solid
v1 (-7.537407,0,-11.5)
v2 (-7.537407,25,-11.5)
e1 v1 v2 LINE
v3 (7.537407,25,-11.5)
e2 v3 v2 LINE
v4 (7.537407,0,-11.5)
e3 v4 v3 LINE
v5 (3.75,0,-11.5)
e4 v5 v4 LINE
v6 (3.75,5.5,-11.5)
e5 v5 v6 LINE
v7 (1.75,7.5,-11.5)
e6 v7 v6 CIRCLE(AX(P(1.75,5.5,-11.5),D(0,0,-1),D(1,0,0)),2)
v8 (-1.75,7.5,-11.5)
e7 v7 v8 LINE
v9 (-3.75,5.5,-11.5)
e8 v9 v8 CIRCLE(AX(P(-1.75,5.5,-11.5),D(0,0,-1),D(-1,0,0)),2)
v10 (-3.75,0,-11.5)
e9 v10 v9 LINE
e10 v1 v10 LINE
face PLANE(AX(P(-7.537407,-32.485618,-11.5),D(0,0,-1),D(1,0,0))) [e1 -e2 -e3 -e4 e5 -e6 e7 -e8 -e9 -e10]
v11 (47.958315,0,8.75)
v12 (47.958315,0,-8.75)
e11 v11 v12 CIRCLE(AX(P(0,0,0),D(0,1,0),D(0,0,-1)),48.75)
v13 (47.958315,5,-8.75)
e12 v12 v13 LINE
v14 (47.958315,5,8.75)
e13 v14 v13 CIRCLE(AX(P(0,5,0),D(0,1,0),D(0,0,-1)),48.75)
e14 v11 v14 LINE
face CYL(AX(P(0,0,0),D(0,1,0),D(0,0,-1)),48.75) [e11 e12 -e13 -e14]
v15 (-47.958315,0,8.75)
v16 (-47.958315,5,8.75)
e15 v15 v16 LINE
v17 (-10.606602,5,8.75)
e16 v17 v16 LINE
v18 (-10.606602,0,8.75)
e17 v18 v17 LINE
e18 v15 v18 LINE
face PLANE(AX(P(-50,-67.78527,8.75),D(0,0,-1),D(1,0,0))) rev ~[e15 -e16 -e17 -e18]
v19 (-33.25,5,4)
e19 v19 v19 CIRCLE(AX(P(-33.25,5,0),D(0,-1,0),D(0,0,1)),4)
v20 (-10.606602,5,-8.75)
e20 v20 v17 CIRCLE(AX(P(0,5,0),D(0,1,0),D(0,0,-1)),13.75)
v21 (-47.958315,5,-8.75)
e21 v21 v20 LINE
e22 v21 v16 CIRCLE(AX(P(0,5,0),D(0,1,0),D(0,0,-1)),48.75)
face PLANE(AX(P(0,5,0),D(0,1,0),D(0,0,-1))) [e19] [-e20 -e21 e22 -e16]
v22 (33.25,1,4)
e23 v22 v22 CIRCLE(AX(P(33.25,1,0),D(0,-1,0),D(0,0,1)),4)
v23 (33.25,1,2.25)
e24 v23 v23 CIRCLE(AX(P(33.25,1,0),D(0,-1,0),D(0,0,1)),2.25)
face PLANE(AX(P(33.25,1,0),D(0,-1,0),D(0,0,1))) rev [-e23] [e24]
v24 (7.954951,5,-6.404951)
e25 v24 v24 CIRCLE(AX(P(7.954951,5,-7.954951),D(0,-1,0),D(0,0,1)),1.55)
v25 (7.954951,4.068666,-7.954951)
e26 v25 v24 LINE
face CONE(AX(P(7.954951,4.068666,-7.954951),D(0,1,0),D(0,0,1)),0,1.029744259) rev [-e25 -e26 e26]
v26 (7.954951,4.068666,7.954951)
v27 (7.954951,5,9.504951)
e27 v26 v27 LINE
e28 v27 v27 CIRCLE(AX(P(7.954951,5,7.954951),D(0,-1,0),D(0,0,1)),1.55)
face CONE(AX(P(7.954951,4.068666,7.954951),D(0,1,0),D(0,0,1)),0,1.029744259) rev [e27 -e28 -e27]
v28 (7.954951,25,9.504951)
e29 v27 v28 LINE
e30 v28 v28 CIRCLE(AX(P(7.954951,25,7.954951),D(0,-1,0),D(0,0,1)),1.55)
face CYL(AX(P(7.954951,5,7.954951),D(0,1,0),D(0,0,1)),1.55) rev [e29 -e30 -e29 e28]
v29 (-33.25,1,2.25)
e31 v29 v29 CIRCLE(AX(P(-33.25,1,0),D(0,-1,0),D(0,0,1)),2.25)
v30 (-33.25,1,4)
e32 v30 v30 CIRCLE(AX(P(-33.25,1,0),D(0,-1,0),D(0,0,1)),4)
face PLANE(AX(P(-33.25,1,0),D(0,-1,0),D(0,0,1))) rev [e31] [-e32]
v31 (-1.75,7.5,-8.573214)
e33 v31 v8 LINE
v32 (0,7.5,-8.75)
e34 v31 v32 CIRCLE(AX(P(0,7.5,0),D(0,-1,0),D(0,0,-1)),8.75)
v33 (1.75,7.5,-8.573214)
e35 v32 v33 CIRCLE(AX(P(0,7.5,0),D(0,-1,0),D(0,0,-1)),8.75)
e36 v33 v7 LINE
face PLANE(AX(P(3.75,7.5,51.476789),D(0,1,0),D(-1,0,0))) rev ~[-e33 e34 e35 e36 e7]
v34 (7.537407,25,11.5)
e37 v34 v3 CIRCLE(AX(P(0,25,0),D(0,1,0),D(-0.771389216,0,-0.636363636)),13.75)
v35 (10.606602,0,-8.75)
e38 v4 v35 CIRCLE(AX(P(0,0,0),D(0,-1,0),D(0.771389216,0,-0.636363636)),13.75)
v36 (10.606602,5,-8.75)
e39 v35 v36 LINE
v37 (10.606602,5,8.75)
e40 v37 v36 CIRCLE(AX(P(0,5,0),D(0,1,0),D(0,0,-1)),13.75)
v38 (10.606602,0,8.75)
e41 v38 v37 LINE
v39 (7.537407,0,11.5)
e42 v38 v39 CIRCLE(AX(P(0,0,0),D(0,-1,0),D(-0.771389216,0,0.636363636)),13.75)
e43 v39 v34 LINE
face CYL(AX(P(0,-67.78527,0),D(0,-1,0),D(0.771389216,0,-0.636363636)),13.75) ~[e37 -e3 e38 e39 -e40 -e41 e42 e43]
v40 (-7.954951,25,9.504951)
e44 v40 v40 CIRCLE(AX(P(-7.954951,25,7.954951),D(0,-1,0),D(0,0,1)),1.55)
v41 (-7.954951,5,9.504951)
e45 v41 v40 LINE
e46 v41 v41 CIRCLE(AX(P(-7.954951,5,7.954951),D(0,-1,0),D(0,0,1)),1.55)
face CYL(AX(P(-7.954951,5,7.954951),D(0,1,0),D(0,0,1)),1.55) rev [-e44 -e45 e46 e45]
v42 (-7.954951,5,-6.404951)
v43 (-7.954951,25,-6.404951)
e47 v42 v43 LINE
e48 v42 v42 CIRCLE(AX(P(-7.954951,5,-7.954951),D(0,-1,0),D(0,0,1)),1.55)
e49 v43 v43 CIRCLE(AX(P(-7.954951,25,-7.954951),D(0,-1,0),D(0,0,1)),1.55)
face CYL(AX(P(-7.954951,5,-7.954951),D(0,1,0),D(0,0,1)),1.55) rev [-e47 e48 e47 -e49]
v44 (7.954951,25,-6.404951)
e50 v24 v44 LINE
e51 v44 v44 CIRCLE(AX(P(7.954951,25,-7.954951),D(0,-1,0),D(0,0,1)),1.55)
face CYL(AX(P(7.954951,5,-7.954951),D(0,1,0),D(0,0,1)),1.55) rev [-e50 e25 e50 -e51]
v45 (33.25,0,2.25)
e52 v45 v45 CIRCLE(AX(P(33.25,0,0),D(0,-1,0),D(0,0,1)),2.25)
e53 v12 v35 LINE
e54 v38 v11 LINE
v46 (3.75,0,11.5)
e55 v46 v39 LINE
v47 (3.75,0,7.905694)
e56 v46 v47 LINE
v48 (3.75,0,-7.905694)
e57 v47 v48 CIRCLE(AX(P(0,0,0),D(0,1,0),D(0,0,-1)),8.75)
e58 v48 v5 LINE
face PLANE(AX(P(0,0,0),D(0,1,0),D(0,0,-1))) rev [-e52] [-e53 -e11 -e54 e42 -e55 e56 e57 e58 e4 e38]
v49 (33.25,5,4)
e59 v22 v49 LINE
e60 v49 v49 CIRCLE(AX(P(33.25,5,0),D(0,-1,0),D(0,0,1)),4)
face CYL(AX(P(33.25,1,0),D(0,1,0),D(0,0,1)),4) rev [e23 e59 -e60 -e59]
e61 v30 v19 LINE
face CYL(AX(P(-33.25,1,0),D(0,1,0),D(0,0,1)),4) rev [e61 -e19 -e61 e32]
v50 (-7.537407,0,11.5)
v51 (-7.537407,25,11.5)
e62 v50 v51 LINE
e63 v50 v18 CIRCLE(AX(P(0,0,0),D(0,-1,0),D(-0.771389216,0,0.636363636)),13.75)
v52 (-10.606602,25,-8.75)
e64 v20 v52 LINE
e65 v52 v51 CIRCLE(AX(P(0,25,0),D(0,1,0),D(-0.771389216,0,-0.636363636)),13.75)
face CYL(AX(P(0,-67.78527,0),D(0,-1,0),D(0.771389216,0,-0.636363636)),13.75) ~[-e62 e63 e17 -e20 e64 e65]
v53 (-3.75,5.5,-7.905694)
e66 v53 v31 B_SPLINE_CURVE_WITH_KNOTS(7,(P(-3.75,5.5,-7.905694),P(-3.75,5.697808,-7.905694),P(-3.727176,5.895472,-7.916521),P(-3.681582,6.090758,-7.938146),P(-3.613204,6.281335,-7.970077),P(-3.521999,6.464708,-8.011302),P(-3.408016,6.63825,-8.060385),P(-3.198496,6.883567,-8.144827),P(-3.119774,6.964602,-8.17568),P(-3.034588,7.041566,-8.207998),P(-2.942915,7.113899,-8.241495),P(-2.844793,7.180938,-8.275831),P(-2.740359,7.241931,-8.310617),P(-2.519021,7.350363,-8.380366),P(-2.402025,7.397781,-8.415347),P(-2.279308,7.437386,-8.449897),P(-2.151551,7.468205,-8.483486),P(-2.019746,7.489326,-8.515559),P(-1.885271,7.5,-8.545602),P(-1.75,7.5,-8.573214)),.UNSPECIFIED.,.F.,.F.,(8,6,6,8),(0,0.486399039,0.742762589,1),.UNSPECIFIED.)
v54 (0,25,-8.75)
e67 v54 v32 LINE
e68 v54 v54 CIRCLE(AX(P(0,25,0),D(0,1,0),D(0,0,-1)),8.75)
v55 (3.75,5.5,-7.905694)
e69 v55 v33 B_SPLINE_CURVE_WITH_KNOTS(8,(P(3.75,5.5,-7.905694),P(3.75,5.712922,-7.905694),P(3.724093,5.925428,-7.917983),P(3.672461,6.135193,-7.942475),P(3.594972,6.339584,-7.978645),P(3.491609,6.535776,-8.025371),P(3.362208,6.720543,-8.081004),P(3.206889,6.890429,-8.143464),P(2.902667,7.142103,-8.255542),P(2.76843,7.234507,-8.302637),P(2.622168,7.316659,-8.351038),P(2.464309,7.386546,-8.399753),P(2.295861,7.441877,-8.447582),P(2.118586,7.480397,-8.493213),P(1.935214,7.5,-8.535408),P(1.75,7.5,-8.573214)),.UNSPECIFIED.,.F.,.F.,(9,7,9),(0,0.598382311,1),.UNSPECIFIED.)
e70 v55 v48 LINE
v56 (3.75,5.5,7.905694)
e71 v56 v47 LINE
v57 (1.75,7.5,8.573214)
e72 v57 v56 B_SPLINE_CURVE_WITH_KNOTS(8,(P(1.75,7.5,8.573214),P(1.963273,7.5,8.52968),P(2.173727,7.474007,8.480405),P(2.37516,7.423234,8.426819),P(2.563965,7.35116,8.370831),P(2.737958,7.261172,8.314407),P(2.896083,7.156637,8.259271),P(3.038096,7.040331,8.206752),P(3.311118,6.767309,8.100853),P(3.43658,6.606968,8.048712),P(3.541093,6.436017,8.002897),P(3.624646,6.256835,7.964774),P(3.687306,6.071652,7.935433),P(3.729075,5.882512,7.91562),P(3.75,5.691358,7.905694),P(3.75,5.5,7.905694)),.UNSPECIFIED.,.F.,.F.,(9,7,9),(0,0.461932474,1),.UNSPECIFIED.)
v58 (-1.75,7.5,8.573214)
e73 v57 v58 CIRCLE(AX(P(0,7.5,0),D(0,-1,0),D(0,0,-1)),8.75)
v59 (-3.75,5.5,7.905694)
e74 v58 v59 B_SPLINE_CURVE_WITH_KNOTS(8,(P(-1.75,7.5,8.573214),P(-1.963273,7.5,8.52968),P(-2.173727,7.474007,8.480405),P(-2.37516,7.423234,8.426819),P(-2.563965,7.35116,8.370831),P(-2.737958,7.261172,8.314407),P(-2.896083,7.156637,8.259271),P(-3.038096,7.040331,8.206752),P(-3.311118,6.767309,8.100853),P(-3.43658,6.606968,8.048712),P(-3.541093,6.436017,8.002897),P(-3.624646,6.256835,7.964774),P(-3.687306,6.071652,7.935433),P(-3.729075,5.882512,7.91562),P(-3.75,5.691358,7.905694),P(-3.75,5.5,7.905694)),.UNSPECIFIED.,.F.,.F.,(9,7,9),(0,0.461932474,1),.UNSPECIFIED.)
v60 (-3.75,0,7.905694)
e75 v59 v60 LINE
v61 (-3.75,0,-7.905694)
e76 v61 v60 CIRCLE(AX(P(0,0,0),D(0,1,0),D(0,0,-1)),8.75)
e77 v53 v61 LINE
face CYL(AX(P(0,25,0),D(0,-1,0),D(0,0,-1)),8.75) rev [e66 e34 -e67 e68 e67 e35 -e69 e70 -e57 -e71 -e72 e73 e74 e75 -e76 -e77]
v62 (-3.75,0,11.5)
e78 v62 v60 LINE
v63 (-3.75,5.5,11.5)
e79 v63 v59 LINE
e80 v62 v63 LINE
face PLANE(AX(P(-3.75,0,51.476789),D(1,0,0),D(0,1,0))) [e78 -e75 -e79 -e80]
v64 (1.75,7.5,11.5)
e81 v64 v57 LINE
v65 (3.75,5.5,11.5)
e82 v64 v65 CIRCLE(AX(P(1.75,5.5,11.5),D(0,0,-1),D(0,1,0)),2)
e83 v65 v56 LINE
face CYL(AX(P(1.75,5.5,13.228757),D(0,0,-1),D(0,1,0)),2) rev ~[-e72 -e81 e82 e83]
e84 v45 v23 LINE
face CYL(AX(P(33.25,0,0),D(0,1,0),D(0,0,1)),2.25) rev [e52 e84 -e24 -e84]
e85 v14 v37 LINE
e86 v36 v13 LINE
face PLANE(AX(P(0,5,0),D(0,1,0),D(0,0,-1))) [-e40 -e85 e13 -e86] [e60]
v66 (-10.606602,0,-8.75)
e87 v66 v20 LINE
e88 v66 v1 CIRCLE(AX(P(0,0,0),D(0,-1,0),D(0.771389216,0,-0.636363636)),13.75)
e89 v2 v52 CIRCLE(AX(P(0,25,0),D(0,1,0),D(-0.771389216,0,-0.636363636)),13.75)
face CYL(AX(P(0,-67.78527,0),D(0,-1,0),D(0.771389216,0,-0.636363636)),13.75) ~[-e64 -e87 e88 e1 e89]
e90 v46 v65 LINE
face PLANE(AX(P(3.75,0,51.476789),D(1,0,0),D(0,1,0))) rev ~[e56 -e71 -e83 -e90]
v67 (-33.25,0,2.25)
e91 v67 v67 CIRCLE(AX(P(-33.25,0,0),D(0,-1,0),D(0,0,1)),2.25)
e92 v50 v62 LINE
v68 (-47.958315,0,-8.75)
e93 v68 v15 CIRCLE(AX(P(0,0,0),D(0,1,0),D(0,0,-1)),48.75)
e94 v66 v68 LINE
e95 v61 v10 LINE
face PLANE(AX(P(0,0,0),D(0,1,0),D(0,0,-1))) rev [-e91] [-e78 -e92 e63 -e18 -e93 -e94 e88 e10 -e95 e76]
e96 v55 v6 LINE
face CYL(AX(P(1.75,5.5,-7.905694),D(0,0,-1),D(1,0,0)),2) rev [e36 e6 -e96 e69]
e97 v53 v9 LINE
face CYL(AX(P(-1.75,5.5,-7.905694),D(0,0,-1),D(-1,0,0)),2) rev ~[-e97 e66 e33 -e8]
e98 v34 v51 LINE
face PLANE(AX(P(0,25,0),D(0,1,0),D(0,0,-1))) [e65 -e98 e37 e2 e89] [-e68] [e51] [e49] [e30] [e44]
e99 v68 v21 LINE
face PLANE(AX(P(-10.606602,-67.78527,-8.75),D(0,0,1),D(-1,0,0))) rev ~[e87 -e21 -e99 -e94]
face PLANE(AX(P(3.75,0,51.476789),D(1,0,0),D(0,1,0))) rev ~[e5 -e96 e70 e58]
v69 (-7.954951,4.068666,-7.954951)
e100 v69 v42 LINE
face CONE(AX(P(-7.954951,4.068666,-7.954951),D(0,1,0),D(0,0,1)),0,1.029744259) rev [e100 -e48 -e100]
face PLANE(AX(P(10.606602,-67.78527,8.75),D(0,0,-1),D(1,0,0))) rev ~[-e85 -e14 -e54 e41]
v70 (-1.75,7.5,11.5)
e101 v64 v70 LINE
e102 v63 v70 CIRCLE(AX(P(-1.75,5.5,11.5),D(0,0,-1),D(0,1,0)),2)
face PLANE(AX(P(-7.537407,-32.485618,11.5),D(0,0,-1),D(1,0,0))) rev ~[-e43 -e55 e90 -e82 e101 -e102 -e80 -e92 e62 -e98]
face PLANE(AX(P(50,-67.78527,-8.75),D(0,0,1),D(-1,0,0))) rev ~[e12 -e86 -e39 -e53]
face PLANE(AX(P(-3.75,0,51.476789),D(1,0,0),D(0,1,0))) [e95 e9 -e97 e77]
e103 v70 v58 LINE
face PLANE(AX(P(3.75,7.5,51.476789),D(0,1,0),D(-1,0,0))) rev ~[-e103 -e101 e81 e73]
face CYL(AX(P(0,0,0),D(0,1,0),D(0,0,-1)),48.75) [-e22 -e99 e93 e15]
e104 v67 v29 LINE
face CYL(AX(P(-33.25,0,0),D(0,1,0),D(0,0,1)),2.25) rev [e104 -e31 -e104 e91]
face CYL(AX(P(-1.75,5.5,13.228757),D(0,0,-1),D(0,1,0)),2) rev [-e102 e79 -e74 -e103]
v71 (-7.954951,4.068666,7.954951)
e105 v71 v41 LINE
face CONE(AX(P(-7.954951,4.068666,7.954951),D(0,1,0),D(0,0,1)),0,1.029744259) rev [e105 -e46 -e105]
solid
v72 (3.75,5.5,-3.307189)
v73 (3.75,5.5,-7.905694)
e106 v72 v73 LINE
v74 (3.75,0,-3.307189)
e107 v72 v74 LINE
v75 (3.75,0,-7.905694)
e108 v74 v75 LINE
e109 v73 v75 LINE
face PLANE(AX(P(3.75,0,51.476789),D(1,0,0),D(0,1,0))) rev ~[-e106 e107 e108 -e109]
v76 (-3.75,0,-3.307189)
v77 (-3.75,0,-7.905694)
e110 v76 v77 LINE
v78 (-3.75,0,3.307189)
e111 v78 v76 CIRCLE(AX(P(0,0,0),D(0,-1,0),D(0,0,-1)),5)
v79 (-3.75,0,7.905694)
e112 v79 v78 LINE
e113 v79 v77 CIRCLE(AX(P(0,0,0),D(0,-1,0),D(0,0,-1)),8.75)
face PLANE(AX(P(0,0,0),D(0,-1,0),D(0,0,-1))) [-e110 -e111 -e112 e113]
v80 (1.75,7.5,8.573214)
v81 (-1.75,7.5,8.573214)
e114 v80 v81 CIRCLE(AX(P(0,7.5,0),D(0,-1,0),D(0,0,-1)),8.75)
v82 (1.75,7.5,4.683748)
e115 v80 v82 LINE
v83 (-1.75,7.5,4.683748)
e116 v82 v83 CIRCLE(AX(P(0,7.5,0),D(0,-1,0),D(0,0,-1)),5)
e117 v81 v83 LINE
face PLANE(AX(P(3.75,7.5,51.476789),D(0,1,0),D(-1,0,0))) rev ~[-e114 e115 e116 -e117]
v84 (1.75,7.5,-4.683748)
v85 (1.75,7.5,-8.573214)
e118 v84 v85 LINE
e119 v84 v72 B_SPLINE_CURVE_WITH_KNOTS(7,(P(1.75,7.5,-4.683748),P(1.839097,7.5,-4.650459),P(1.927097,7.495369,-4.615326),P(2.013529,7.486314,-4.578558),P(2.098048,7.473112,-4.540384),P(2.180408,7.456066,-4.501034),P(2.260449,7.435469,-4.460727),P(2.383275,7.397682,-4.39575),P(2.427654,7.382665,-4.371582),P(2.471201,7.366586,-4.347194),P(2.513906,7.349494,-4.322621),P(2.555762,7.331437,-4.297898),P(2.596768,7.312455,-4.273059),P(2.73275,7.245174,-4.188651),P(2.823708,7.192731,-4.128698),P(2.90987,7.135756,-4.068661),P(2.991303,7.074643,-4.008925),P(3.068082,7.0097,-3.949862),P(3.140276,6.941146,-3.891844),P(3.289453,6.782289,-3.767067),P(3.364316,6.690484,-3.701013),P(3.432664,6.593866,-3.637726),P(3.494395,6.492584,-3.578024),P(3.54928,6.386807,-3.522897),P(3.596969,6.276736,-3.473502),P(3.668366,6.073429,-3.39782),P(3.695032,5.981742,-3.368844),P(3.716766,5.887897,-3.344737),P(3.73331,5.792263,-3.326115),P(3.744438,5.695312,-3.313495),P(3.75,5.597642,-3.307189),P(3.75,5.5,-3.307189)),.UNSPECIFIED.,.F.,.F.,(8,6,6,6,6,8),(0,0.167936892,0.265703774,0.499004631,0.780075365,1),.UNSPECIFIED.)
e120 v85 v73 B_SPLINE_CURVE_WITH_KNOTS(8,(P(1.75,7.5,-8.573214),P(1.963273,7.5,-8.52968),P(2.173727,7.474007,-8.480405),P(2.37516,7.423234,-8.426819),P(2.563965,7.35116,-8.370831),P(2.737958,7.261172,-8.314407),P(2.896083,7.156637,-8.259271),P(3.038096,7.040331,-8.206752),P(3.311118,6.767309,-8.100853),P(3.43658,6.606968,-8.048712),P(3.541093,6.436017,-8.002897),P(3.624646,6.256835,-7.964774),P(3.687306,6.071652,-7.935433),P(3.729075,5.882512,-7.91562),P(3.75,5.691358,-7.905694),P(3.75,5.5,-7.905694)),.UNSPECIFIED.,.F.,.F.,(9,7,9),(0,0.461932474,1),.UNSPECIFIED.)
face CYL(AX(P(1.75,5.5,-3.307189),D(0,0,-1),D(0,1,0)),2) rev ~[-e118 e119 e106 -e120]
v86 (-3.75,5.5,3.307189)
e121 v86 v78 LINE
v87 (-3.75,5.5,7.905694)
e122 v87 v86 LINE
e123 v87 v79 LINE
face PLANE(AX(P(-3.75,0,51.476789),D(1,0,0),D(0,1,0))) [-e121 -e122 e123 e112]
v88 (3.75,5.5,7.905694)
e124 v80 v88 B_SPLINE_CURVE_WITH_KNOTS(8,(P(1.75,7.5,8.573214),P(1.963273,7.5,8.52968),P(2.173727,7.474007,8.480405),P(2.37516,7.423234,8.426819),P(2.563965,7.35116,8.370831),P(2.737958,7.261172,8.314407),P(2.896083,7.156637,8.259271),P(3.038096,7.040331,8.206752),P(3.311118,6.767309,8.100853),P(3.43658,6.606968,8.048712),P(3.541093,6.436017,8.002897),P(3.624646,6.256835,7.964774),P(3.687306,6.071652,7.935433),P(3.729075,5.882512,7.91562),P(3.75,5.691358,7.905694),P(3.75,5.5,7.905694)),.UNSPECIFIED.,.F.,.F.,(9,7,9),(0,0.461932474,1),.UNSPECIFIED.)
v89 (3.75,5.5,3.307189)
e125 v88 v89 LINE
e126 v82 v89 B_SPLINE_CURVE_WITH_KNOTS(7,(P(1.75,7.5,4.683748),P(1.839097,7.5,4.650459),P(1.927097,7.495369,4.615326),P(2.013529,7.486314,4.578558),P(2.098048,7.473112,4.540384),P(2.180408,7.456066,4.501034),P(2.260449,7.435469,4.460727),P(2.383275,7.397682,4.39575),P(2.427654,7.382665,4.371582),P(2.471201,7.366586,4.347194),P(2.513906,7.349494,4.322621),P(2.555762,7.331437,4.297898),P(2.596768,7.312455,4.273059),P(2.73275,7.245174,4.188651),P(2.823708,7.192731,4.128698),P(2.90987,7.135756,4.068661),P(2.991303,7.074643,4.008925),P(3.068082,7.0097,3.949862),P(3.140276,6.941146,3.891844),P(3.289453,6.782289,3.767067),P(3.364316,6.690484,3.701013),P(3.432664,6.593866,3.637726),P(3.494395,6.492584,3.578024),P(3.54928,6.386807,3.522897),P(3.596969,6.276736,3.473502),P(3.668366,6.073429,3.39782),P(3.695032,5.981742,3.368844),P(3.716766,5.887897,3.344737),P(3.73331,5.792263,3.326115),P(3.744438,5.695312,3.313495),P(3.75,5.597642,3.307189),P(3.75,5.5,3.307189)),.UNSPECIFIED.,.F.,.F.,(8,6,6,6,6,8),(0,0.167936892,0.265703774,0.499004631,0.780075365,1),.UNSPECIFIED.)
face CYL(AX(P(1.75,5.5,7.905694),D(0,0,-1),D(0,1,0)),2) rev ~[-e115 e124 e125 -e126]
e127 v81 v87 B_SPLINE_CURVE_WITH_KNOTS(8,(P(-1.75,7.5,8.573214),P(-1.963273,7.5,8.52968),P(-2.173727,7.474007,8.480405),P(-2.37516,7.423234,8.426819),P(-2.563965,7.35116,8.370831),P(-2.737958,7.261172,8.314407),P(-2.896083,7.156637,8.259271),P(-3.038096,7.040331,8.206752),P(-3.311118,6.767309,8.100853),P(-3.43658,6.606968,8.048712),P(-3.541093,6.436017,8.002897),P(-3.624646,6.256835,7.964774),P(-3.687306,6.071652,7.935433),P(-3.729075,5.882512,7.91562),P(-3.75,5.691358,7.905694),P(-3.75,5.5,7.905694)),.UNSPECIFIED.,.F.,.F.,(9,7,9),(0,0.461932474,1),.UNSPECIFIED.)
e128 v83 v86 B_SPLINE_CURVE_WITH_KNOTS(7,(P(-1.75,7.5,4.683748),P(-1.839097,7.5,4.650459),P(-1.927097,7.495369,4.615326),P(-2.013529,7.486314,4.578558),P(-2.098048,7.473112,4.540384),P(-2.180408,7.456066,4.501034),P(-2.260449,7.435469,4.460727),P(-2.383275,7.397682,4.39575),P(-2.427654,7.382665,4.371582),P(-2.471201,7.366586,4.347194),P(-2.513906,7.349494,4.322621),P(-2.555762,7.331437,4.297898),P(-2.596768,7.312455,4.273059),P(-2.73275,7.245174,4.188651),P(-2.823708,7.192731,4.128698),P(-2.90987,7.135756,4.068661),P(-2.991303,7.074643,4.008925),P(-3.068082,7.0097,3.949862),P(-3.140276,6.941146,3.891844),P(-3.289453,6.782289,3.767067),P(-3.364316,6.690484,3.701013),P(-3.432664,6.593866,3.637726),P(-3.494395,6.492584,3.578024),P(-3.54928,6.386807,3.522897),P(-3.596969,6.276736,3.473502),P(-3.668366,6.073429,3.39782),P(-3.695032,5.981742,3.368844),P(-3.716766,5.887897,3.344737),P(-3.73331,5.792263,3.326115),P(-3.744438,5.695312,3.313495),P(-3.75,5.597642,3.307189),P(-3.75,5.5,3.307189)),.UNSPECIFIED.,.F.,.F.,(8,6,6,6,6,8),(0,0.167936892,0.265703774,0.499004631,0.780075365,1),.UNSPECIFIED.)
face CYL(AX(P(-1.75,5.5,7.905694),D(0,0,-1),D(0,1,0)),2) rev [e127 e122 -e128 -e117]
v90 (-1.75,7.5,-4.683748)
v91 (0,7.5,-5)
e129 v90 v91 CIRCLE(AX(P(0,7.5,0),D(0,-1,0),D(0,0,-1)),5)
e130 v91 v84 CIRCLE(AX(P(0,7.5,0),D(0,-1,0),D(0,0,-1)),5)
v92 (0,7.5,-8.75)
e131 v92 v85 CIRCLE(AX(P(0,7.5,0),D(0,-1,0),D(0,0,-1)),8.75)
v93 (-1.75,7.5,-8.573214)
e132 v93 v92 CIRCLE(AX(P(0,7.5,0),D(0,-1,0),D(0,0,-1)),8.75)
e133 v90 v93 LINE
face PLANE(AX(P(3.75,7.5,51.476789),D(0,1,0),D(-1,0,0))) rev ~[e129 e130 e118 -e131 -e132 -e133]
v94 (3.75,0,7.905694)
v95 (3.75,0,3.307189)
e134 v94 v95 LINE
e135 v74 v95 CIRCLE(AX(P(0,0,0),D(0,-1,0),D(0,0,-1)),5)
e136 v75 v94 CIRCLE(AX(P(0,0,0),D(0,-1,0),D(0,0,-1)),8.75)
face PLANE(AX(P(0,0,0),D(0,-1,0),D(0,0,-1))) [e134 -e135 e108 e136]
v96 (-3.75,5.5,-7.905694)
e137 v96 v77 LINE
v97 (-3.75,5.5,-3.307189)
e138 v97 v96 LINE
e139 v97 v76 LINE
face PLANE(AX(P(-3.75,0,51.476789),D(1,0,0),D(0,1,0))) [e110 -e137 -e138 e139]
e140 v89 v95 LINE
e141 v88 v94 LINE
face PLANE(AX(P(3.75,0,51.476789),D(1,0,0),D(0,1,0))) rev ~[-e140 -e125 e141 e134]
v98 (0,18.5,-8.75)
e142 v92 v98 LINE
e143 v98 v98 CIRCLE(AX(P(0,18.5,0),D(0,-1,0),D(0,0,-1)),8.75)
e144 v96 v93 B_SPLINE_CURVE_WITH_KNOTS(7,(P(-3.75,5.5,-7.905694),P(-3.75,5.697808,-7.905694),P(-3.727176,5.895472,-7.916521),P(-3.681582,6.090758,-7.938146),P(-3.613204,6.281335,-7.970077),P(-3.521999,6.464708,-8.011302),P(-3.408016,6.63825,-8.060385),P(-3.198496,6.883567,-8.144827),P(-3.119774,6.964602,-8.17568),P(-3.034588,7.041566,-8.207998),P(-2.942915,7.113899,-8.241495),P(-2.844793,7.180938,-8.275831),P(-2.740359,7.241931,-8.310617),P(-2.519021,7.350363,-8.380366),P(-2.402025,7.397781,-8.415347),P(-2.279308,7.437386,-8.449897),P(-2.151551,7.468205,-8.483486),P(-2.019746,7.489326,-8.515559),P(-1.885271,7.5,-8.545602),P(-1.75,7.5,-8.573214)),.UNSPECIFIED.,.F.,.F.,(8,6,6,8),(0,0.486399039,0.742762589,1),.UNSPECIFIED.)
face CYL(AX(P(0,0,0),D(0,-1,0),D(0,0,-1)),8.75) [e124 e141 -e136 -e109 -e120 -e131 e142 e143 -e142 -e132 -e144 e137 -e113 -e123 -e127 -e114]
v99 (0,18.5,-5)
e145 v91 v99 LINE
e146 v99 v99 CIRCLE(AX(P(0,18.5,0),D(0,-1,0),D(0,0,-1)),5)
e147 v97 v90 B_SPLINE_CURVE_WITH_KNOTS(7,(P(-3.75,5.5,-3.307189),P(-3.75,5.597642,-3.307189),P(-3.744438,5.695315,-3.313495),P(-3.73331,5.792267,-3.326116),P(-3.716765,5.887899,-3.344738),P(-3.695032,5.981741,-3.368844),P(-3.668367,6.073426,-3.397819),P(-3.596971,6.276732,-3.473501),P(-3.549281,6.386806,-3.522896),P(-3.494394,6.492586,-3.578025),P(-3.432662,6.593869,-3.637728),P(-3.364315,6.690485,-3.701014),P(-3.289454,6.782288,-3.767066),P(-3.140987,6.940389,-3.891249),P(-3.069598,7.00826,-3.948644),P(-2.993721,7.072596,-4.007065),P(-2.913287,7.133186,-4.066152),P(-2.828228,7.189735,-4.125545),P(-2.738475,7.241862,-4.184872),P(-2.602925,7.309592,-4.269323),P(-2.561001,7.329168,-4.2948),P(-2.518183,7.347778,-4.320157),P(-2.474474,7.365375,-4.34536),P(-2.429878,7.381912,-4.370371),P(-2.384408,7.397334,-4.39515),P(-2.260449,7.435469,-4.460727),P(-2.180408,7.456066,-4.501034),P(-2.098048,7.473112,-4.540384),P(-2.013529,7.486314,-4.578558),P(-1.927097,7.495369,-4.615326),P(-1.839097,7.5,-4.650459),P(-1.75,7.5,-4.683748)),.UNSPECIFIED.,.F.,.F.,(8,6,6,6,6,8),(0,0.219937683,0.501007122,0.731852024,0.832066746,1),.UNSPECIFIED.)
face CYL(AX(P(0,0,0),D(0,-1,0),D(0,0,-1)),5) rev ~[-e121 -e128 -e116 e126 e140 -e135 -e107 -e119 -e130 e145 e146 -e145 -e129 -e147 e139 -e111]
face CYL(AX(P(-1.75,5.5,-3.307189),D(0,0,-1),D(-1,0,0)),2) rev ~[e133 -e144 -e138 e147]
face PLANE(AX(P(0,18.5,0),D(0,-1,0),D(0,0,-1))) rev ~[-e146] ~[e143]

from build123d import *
from build123d.topology import SkipClean

# Parameters (mm, degrees)
SKETCH2_R                      = 8.75
SKETCH2_R_2                    = 5
BOSS_EXTRUDE1_DEPTH            = 18.5
CUT_EXTRUDE1_DEPTH             = 72.785270077
CUT_EXTRUDE1_DEPTH_BACK        = 72.785270077
CBORE_FOR_M4_SHCS1_AT_2_COUNT  = 2
CBORE_FOR_M4_SHCS1_AT_2_PITCH  = 66.5
CUT_EXTRUDE2_DEPTH             = 60.226788702
CUT_EXTRUDE2_DEPTH_BACK        = 60.226788702
SKETCH10_W                     = 7.5
SKETCH10_H                     = 7.5
FILLET2_R                      = 2
FILLET3_R                      = 2
FILLET4_R                      = 2
FILLET5_R                      = 2
FILLET6_R                      = 2
FILLET7_R                      = 2
FILLET8_R                      = 2
FILLET9_R                      = 2
F_1_0MM_DOWEL_HOLE1_AT_2_COUNT = 2
F_1_0MM_DOWEL_HOLE1_AT_2_PITCH = 15.909902577
F_1_0MM_DOWEL_HOLE1_AT_3_COUNT = 2
F_1_0MM_DOWEL_HOLE1_AT_3_PITCH = 22.5
F_1_0MM_DOWEL_HOLE1_AT_4_COUNT = 2
F_1_0MM_DOWEL_HOLE1_AT_4_PITCH = 15.909902577
CUT_EXTRUDE3_DEPTH             = 57.485617707
CUT_EXTRUDE3_DEPTH_BACK        = 57.485617707
SKETCH14_W                     = 15.074813432
SKETCH14_H                     = 4.328777268
SKETCH14_H_2                   = 4.395498361


with BuildPart() as part:
    # Sketch1 → Revolve1 (revolve)
    with BuildSketch(Plane(origin=(0, 0, 0), x_dir=(0, 0, -1), z_dir=(1, 0, 0)), mode=Mode.PRIVATE) as revolve1_sk:
        Polygon((-8.75, 0), (-48.75, 0), (-48.75, 5), (-13.75, 5), (-13.75, 25), (-8.75, 25), align=None)
    revolve(revolve1_sk.sketch.rotate(Axis((0, -1.25, 0), (0, 1, 0)), 180), axis=Axis((0, -1.25, 0), (0, 1, 0)))

    # Sketch3 → Cut-Extrude1 (cut, two sides: drawn at the far end of the back side and taken through both)
    with SkipClean():  # the faces are left unmerged after this step: merging them gives an invalid solid
        with BuildSketch(Plane(origin=(0, 5, 0), x_dir=(1, 0, 0), z_dir=(0, 1, 0)).offset(-CUT_EXTRUDE1_DEPTH_BACK)):
            with BuildLine():
                Line((-50, -8.75), (-10.606601718, -8.75))
                ThreePointArc((-10.606601718, -8.75), (0, -13.75), (10.606601718, -8.75))
                Line((10.606601718, -8.75), (50, -8.75))
                Line((50, -8.75), (50, -58.75))
                Line((50, -58.75), (-50, -58.75))
                Line((-50, -58.75), (-50, -8.75))
            make_face()
            with BuildLine():
                Line((50, 8.75), (10.606601718, 8.75))
                ThreePointArc((10.606601718, 8.75), (0, 13.75), (-10.606601718, 8.75))
                Line((-10.606601718, 8.75), (-50, 8.75))
                Line((-50, 8.75), (-50, 58.75))
                Line((-50, 58.75), (50, 58.75))
                Line((50, 58.75), (50, 8.75))
            make_face()
        extrude(amount=CUT_EXTRUDE1_DEPTH + CUT_EXTRUDE1_DEPTH_BACK, mode=Mode.SUBTRACT)

    # Sketch9 → CBORE for M4 SHCS1 (revolve, cut)
    with SkipClean():  # the faces are left unmerged after this step: merging them gives an invalid solid
        with BuildSketch(Plane(origin=(-33.25, 5, 0), x_dir=(0, 0, 1), z_dir=(1, 0, 0))):
            Polygon((0, 0), (0, 5), (2.25, 5), (2.25, 4), (4, 4), (4, 0), align=None)
        cbore_for_m4_shcs1 = revolve(axis=Axis((-33.25, 11.35, 0), (0, -1, 0)), mode=Mode.SUBTRACT)

    # CBORE for M4 SHCS1 at 2: CBORE for M4 SHCS1 ×2
    with SkipClean():  # the faces are left unmerged after this step: merging them gives an invalid solid
        with Locations(*[(i * CBORE_FOR_M4_SHCS1_AT_2_PITCH, 0, 0) for i in range(1, CBORE_FOR_M4_SHCS1_AT_2_COUNT)]):
            add(cbore_for_m4_shcs1, mode=Mode.SUBTRACT)


with BuildPart() as body_2:
    # Sketch2 → Boss-Extrude1 (new body)
    with BuildSketch(Plane.XZ):
        with Locations(Location((0, 0, 0), (0, 0, 270))):
            Circle(SKETCH2_R)
        with Locations(Location((0, 0, 0), (0, 0, 270))):
            Circle(SKETCH2_R_2, mode=Mode.SUBTRACT)
    extrude(amount=-BOSS_EXTRUDE1_DEPTH)


with BuildPart() as cut_extrude2_tool:
    # Sketch10 → Cut-Extrude2 (new, two sides: drawn at the far end of the back side and taken through both)
    with SkipClean():  # the faces are left unmerged after this step: merging them gives an invalid solid
        with BuildSketch(Plane(origin=(0, 0, -8.75), x_dir=(-1, 0, 0), z_dir=(0, 0, -1)).offset(-CUT_EXTRUDE2_DEPTH_BACK)):
            with Locations((0, 3.75)):
                Rectangle(SKETCH10_W, SKETCH10_H)
        extrude(amount=CUT_EXTRUDE2_DEPTH + CUT_EXTRUDE2_DEPTH_BACK)


with BuildPart() as part_1:
    with SkipClean():  # the faces are left unmerged after this step: merging them gives an invalid solid
        add(part.part)

        # Cut-Extrude2: cut by cut_extrude2_tool
        add(cut_extrude2_tool.part, mode=Mode.SUBTRACT)

    # Fillet2
    fillet2_edges = [part_1.edges().sort_by_distance(p)[0] for p in [
        (3.75, 7.5, 10.567225353),
    ]]
    fillet(fillet2_edges, radius=FILLET2_R)

    # Fillet3
    fillet3_edges = [part_1.edges().sort_by_distance(p)[0] for p in [
        (-3.75, 7.5, 10.567225353),
    ]]
    fillet(fillet3_edges, radius=FILLET3_R)

    # Fillet7
    fillet7_edges = [part_1.edges().sort_by_distance(p)[0] for p in [
        (-3.75, 7.5, -10.567225353),
    ]]
    fillet(fillet7_edges, radius=FILLET7_R)

    # Fillet8
    fillet8_edges = [part_1.edges().sort_by_distance(p)[0] for p in [
        (3.75, 7.5, -10.567225353),
    ]]
    fillet(fillet8_edges, radius=FILLET8_R)

    # Sketch12 → Ø1.0mm Dowel Hole1 (revolve, cut)
    with SkipClean():  # the faces are left unmerged after this step: merging them gives an invalid solid
        with BuildSketch(Plane(origin=(-7.954951288, 25, -7.954951288), x_dir=(0, 0, 1), z_dir=(1, 0, 0))):
            Polygon((0, 0), (0, 20.931333959), (1.55, 20), (1.55, 0), align=None)
        f_1_0mm_dowel_hole1 = revolve(axis=Axis((-7.954951288, 31.35, -7.954951288), (0, -1, 0)), mode=Mode.SUBTRACT)

    # Ø1.0mm Dowel Hole1 at 2: Ø1.0mm Dowel Hole1 ×2
    with SkipClean():  # the faces are left unmerged after this step: merging them gives an invalid solid
        with Locations(*[(i * F_1_0MM_DOWEL_HOLE1_AT_2_PITCH, 0, 0) for i in range(1, F_1_0MM_DOWEL_HOLE1_AT_2_COUNT)]):
            add(f_1_0mm_dowel_hole1, mode=Mode.SUBTRACT)

    # Ø1.0mm Dowel Hole1 at 3: Ø1.0mm Dowel Hole1 ×2
    with SkipClean():  # the faces are left unmerged after this step: merging them gives an invalid solid
        with Locations(*[Vector(0.707106781186549, 0, 0.7071067811865461) * (i * F_1_0MM_DOWEL_HOLE1_AT_3_PITCH) for i in range(1, F_1_0MM_DOWEL_HOLE1_AT_3_COUNT)]):
            add(f_1_0mm_dowel_hole1, mode=Mode.SUBTRACT)

    # Ø1.0mm Dowel Hole1 at 4: Ø1.0mm Dowel Hole1 ×2
    with SkipClean():  # the faces are left unmerged after this step: merging them gives an invalid solid
        with Locations(*[(0, 0, i * F_1_0MM_DOWEL_HOLE1_AT_4_PITCH) for i in range(1, F_1_0MM_DOWEL_HOLE1_AT_4_COUNT)]):
            add(f_1_0mm_dowel_hole1, mode=Mode.SUBTRACT)

    # Sketch14 → Cut-Extrude3 (cut, two sides: drawn at the far end of the back side and taken through both)
    with SkipClean():  # the faces are left unmerged after this step: merging them gives an invalid solid
        with BuildSketch(Plane(origin=(0, 25, 0), x_dir=(1, 0, 0), z_dir=(0, 1, 0)).offset(-CUT_EXTRUDE3_DEPTH_BACK)):
            with Locations((0, -13.664388634)):
                Rectangle(SKETCH14_W, SKETCH14_H)
            with Locations((0, 13.697749181)):
                Rectangle(SKETCH14_W, SKETCH14_H_2)
        extrude(amount=CUT_EXTRUDE3_DEPTH + CUT_EXTRUDE3_DEPTH_BACK, mode=Mode.SUBTRACT)


with BuildPart() as body_2_1:
    with SkipClean():  # the faces are left unmerged after this step: merging them gives an invalid solid
        add(body_2.part)

        # Cut-Extrude2: cut by cut_extrude2_tool
        add(cut_extrude2_tool.part, mode=Mode.SUBTRACT)

    # Fillet4
    fillet4_edges = [body_2_1.edges().sort_by_distance(p)[0] for p in [
        (-3.75, 7.5, 5.606441645),
    ]]
    fillet(fillet4_edges, radius=FILLET4_R)

    # Fillet5
    fillet5_edges = [body_2_1.edges().sort_by_distance(p)[0] for p in [
        (3.75, 7.5, 5.606441645),
    ]]
    fillet(fillet5_edges, radius=FILLET5_R)

    # Fillet6
    fillet6_edges = [body_2_1.edges().sort_by_distance(p)[0] for p in [
        (-3.75, 7.5, -5.606441645),
    ]]
    fillet(fillet6_edges, radius=FILLET6_R)

    # Fillet9
    fillet9_edges = [body_2_1.edges().sort_by_distance(p)[0] for p in [
        (3.75, 7.5, -5.606441645),
    ]]
    fillet(fillet9_edges, radius=FILLET9_R)


solid = Compound([part_1.part, body_2_1.part])
